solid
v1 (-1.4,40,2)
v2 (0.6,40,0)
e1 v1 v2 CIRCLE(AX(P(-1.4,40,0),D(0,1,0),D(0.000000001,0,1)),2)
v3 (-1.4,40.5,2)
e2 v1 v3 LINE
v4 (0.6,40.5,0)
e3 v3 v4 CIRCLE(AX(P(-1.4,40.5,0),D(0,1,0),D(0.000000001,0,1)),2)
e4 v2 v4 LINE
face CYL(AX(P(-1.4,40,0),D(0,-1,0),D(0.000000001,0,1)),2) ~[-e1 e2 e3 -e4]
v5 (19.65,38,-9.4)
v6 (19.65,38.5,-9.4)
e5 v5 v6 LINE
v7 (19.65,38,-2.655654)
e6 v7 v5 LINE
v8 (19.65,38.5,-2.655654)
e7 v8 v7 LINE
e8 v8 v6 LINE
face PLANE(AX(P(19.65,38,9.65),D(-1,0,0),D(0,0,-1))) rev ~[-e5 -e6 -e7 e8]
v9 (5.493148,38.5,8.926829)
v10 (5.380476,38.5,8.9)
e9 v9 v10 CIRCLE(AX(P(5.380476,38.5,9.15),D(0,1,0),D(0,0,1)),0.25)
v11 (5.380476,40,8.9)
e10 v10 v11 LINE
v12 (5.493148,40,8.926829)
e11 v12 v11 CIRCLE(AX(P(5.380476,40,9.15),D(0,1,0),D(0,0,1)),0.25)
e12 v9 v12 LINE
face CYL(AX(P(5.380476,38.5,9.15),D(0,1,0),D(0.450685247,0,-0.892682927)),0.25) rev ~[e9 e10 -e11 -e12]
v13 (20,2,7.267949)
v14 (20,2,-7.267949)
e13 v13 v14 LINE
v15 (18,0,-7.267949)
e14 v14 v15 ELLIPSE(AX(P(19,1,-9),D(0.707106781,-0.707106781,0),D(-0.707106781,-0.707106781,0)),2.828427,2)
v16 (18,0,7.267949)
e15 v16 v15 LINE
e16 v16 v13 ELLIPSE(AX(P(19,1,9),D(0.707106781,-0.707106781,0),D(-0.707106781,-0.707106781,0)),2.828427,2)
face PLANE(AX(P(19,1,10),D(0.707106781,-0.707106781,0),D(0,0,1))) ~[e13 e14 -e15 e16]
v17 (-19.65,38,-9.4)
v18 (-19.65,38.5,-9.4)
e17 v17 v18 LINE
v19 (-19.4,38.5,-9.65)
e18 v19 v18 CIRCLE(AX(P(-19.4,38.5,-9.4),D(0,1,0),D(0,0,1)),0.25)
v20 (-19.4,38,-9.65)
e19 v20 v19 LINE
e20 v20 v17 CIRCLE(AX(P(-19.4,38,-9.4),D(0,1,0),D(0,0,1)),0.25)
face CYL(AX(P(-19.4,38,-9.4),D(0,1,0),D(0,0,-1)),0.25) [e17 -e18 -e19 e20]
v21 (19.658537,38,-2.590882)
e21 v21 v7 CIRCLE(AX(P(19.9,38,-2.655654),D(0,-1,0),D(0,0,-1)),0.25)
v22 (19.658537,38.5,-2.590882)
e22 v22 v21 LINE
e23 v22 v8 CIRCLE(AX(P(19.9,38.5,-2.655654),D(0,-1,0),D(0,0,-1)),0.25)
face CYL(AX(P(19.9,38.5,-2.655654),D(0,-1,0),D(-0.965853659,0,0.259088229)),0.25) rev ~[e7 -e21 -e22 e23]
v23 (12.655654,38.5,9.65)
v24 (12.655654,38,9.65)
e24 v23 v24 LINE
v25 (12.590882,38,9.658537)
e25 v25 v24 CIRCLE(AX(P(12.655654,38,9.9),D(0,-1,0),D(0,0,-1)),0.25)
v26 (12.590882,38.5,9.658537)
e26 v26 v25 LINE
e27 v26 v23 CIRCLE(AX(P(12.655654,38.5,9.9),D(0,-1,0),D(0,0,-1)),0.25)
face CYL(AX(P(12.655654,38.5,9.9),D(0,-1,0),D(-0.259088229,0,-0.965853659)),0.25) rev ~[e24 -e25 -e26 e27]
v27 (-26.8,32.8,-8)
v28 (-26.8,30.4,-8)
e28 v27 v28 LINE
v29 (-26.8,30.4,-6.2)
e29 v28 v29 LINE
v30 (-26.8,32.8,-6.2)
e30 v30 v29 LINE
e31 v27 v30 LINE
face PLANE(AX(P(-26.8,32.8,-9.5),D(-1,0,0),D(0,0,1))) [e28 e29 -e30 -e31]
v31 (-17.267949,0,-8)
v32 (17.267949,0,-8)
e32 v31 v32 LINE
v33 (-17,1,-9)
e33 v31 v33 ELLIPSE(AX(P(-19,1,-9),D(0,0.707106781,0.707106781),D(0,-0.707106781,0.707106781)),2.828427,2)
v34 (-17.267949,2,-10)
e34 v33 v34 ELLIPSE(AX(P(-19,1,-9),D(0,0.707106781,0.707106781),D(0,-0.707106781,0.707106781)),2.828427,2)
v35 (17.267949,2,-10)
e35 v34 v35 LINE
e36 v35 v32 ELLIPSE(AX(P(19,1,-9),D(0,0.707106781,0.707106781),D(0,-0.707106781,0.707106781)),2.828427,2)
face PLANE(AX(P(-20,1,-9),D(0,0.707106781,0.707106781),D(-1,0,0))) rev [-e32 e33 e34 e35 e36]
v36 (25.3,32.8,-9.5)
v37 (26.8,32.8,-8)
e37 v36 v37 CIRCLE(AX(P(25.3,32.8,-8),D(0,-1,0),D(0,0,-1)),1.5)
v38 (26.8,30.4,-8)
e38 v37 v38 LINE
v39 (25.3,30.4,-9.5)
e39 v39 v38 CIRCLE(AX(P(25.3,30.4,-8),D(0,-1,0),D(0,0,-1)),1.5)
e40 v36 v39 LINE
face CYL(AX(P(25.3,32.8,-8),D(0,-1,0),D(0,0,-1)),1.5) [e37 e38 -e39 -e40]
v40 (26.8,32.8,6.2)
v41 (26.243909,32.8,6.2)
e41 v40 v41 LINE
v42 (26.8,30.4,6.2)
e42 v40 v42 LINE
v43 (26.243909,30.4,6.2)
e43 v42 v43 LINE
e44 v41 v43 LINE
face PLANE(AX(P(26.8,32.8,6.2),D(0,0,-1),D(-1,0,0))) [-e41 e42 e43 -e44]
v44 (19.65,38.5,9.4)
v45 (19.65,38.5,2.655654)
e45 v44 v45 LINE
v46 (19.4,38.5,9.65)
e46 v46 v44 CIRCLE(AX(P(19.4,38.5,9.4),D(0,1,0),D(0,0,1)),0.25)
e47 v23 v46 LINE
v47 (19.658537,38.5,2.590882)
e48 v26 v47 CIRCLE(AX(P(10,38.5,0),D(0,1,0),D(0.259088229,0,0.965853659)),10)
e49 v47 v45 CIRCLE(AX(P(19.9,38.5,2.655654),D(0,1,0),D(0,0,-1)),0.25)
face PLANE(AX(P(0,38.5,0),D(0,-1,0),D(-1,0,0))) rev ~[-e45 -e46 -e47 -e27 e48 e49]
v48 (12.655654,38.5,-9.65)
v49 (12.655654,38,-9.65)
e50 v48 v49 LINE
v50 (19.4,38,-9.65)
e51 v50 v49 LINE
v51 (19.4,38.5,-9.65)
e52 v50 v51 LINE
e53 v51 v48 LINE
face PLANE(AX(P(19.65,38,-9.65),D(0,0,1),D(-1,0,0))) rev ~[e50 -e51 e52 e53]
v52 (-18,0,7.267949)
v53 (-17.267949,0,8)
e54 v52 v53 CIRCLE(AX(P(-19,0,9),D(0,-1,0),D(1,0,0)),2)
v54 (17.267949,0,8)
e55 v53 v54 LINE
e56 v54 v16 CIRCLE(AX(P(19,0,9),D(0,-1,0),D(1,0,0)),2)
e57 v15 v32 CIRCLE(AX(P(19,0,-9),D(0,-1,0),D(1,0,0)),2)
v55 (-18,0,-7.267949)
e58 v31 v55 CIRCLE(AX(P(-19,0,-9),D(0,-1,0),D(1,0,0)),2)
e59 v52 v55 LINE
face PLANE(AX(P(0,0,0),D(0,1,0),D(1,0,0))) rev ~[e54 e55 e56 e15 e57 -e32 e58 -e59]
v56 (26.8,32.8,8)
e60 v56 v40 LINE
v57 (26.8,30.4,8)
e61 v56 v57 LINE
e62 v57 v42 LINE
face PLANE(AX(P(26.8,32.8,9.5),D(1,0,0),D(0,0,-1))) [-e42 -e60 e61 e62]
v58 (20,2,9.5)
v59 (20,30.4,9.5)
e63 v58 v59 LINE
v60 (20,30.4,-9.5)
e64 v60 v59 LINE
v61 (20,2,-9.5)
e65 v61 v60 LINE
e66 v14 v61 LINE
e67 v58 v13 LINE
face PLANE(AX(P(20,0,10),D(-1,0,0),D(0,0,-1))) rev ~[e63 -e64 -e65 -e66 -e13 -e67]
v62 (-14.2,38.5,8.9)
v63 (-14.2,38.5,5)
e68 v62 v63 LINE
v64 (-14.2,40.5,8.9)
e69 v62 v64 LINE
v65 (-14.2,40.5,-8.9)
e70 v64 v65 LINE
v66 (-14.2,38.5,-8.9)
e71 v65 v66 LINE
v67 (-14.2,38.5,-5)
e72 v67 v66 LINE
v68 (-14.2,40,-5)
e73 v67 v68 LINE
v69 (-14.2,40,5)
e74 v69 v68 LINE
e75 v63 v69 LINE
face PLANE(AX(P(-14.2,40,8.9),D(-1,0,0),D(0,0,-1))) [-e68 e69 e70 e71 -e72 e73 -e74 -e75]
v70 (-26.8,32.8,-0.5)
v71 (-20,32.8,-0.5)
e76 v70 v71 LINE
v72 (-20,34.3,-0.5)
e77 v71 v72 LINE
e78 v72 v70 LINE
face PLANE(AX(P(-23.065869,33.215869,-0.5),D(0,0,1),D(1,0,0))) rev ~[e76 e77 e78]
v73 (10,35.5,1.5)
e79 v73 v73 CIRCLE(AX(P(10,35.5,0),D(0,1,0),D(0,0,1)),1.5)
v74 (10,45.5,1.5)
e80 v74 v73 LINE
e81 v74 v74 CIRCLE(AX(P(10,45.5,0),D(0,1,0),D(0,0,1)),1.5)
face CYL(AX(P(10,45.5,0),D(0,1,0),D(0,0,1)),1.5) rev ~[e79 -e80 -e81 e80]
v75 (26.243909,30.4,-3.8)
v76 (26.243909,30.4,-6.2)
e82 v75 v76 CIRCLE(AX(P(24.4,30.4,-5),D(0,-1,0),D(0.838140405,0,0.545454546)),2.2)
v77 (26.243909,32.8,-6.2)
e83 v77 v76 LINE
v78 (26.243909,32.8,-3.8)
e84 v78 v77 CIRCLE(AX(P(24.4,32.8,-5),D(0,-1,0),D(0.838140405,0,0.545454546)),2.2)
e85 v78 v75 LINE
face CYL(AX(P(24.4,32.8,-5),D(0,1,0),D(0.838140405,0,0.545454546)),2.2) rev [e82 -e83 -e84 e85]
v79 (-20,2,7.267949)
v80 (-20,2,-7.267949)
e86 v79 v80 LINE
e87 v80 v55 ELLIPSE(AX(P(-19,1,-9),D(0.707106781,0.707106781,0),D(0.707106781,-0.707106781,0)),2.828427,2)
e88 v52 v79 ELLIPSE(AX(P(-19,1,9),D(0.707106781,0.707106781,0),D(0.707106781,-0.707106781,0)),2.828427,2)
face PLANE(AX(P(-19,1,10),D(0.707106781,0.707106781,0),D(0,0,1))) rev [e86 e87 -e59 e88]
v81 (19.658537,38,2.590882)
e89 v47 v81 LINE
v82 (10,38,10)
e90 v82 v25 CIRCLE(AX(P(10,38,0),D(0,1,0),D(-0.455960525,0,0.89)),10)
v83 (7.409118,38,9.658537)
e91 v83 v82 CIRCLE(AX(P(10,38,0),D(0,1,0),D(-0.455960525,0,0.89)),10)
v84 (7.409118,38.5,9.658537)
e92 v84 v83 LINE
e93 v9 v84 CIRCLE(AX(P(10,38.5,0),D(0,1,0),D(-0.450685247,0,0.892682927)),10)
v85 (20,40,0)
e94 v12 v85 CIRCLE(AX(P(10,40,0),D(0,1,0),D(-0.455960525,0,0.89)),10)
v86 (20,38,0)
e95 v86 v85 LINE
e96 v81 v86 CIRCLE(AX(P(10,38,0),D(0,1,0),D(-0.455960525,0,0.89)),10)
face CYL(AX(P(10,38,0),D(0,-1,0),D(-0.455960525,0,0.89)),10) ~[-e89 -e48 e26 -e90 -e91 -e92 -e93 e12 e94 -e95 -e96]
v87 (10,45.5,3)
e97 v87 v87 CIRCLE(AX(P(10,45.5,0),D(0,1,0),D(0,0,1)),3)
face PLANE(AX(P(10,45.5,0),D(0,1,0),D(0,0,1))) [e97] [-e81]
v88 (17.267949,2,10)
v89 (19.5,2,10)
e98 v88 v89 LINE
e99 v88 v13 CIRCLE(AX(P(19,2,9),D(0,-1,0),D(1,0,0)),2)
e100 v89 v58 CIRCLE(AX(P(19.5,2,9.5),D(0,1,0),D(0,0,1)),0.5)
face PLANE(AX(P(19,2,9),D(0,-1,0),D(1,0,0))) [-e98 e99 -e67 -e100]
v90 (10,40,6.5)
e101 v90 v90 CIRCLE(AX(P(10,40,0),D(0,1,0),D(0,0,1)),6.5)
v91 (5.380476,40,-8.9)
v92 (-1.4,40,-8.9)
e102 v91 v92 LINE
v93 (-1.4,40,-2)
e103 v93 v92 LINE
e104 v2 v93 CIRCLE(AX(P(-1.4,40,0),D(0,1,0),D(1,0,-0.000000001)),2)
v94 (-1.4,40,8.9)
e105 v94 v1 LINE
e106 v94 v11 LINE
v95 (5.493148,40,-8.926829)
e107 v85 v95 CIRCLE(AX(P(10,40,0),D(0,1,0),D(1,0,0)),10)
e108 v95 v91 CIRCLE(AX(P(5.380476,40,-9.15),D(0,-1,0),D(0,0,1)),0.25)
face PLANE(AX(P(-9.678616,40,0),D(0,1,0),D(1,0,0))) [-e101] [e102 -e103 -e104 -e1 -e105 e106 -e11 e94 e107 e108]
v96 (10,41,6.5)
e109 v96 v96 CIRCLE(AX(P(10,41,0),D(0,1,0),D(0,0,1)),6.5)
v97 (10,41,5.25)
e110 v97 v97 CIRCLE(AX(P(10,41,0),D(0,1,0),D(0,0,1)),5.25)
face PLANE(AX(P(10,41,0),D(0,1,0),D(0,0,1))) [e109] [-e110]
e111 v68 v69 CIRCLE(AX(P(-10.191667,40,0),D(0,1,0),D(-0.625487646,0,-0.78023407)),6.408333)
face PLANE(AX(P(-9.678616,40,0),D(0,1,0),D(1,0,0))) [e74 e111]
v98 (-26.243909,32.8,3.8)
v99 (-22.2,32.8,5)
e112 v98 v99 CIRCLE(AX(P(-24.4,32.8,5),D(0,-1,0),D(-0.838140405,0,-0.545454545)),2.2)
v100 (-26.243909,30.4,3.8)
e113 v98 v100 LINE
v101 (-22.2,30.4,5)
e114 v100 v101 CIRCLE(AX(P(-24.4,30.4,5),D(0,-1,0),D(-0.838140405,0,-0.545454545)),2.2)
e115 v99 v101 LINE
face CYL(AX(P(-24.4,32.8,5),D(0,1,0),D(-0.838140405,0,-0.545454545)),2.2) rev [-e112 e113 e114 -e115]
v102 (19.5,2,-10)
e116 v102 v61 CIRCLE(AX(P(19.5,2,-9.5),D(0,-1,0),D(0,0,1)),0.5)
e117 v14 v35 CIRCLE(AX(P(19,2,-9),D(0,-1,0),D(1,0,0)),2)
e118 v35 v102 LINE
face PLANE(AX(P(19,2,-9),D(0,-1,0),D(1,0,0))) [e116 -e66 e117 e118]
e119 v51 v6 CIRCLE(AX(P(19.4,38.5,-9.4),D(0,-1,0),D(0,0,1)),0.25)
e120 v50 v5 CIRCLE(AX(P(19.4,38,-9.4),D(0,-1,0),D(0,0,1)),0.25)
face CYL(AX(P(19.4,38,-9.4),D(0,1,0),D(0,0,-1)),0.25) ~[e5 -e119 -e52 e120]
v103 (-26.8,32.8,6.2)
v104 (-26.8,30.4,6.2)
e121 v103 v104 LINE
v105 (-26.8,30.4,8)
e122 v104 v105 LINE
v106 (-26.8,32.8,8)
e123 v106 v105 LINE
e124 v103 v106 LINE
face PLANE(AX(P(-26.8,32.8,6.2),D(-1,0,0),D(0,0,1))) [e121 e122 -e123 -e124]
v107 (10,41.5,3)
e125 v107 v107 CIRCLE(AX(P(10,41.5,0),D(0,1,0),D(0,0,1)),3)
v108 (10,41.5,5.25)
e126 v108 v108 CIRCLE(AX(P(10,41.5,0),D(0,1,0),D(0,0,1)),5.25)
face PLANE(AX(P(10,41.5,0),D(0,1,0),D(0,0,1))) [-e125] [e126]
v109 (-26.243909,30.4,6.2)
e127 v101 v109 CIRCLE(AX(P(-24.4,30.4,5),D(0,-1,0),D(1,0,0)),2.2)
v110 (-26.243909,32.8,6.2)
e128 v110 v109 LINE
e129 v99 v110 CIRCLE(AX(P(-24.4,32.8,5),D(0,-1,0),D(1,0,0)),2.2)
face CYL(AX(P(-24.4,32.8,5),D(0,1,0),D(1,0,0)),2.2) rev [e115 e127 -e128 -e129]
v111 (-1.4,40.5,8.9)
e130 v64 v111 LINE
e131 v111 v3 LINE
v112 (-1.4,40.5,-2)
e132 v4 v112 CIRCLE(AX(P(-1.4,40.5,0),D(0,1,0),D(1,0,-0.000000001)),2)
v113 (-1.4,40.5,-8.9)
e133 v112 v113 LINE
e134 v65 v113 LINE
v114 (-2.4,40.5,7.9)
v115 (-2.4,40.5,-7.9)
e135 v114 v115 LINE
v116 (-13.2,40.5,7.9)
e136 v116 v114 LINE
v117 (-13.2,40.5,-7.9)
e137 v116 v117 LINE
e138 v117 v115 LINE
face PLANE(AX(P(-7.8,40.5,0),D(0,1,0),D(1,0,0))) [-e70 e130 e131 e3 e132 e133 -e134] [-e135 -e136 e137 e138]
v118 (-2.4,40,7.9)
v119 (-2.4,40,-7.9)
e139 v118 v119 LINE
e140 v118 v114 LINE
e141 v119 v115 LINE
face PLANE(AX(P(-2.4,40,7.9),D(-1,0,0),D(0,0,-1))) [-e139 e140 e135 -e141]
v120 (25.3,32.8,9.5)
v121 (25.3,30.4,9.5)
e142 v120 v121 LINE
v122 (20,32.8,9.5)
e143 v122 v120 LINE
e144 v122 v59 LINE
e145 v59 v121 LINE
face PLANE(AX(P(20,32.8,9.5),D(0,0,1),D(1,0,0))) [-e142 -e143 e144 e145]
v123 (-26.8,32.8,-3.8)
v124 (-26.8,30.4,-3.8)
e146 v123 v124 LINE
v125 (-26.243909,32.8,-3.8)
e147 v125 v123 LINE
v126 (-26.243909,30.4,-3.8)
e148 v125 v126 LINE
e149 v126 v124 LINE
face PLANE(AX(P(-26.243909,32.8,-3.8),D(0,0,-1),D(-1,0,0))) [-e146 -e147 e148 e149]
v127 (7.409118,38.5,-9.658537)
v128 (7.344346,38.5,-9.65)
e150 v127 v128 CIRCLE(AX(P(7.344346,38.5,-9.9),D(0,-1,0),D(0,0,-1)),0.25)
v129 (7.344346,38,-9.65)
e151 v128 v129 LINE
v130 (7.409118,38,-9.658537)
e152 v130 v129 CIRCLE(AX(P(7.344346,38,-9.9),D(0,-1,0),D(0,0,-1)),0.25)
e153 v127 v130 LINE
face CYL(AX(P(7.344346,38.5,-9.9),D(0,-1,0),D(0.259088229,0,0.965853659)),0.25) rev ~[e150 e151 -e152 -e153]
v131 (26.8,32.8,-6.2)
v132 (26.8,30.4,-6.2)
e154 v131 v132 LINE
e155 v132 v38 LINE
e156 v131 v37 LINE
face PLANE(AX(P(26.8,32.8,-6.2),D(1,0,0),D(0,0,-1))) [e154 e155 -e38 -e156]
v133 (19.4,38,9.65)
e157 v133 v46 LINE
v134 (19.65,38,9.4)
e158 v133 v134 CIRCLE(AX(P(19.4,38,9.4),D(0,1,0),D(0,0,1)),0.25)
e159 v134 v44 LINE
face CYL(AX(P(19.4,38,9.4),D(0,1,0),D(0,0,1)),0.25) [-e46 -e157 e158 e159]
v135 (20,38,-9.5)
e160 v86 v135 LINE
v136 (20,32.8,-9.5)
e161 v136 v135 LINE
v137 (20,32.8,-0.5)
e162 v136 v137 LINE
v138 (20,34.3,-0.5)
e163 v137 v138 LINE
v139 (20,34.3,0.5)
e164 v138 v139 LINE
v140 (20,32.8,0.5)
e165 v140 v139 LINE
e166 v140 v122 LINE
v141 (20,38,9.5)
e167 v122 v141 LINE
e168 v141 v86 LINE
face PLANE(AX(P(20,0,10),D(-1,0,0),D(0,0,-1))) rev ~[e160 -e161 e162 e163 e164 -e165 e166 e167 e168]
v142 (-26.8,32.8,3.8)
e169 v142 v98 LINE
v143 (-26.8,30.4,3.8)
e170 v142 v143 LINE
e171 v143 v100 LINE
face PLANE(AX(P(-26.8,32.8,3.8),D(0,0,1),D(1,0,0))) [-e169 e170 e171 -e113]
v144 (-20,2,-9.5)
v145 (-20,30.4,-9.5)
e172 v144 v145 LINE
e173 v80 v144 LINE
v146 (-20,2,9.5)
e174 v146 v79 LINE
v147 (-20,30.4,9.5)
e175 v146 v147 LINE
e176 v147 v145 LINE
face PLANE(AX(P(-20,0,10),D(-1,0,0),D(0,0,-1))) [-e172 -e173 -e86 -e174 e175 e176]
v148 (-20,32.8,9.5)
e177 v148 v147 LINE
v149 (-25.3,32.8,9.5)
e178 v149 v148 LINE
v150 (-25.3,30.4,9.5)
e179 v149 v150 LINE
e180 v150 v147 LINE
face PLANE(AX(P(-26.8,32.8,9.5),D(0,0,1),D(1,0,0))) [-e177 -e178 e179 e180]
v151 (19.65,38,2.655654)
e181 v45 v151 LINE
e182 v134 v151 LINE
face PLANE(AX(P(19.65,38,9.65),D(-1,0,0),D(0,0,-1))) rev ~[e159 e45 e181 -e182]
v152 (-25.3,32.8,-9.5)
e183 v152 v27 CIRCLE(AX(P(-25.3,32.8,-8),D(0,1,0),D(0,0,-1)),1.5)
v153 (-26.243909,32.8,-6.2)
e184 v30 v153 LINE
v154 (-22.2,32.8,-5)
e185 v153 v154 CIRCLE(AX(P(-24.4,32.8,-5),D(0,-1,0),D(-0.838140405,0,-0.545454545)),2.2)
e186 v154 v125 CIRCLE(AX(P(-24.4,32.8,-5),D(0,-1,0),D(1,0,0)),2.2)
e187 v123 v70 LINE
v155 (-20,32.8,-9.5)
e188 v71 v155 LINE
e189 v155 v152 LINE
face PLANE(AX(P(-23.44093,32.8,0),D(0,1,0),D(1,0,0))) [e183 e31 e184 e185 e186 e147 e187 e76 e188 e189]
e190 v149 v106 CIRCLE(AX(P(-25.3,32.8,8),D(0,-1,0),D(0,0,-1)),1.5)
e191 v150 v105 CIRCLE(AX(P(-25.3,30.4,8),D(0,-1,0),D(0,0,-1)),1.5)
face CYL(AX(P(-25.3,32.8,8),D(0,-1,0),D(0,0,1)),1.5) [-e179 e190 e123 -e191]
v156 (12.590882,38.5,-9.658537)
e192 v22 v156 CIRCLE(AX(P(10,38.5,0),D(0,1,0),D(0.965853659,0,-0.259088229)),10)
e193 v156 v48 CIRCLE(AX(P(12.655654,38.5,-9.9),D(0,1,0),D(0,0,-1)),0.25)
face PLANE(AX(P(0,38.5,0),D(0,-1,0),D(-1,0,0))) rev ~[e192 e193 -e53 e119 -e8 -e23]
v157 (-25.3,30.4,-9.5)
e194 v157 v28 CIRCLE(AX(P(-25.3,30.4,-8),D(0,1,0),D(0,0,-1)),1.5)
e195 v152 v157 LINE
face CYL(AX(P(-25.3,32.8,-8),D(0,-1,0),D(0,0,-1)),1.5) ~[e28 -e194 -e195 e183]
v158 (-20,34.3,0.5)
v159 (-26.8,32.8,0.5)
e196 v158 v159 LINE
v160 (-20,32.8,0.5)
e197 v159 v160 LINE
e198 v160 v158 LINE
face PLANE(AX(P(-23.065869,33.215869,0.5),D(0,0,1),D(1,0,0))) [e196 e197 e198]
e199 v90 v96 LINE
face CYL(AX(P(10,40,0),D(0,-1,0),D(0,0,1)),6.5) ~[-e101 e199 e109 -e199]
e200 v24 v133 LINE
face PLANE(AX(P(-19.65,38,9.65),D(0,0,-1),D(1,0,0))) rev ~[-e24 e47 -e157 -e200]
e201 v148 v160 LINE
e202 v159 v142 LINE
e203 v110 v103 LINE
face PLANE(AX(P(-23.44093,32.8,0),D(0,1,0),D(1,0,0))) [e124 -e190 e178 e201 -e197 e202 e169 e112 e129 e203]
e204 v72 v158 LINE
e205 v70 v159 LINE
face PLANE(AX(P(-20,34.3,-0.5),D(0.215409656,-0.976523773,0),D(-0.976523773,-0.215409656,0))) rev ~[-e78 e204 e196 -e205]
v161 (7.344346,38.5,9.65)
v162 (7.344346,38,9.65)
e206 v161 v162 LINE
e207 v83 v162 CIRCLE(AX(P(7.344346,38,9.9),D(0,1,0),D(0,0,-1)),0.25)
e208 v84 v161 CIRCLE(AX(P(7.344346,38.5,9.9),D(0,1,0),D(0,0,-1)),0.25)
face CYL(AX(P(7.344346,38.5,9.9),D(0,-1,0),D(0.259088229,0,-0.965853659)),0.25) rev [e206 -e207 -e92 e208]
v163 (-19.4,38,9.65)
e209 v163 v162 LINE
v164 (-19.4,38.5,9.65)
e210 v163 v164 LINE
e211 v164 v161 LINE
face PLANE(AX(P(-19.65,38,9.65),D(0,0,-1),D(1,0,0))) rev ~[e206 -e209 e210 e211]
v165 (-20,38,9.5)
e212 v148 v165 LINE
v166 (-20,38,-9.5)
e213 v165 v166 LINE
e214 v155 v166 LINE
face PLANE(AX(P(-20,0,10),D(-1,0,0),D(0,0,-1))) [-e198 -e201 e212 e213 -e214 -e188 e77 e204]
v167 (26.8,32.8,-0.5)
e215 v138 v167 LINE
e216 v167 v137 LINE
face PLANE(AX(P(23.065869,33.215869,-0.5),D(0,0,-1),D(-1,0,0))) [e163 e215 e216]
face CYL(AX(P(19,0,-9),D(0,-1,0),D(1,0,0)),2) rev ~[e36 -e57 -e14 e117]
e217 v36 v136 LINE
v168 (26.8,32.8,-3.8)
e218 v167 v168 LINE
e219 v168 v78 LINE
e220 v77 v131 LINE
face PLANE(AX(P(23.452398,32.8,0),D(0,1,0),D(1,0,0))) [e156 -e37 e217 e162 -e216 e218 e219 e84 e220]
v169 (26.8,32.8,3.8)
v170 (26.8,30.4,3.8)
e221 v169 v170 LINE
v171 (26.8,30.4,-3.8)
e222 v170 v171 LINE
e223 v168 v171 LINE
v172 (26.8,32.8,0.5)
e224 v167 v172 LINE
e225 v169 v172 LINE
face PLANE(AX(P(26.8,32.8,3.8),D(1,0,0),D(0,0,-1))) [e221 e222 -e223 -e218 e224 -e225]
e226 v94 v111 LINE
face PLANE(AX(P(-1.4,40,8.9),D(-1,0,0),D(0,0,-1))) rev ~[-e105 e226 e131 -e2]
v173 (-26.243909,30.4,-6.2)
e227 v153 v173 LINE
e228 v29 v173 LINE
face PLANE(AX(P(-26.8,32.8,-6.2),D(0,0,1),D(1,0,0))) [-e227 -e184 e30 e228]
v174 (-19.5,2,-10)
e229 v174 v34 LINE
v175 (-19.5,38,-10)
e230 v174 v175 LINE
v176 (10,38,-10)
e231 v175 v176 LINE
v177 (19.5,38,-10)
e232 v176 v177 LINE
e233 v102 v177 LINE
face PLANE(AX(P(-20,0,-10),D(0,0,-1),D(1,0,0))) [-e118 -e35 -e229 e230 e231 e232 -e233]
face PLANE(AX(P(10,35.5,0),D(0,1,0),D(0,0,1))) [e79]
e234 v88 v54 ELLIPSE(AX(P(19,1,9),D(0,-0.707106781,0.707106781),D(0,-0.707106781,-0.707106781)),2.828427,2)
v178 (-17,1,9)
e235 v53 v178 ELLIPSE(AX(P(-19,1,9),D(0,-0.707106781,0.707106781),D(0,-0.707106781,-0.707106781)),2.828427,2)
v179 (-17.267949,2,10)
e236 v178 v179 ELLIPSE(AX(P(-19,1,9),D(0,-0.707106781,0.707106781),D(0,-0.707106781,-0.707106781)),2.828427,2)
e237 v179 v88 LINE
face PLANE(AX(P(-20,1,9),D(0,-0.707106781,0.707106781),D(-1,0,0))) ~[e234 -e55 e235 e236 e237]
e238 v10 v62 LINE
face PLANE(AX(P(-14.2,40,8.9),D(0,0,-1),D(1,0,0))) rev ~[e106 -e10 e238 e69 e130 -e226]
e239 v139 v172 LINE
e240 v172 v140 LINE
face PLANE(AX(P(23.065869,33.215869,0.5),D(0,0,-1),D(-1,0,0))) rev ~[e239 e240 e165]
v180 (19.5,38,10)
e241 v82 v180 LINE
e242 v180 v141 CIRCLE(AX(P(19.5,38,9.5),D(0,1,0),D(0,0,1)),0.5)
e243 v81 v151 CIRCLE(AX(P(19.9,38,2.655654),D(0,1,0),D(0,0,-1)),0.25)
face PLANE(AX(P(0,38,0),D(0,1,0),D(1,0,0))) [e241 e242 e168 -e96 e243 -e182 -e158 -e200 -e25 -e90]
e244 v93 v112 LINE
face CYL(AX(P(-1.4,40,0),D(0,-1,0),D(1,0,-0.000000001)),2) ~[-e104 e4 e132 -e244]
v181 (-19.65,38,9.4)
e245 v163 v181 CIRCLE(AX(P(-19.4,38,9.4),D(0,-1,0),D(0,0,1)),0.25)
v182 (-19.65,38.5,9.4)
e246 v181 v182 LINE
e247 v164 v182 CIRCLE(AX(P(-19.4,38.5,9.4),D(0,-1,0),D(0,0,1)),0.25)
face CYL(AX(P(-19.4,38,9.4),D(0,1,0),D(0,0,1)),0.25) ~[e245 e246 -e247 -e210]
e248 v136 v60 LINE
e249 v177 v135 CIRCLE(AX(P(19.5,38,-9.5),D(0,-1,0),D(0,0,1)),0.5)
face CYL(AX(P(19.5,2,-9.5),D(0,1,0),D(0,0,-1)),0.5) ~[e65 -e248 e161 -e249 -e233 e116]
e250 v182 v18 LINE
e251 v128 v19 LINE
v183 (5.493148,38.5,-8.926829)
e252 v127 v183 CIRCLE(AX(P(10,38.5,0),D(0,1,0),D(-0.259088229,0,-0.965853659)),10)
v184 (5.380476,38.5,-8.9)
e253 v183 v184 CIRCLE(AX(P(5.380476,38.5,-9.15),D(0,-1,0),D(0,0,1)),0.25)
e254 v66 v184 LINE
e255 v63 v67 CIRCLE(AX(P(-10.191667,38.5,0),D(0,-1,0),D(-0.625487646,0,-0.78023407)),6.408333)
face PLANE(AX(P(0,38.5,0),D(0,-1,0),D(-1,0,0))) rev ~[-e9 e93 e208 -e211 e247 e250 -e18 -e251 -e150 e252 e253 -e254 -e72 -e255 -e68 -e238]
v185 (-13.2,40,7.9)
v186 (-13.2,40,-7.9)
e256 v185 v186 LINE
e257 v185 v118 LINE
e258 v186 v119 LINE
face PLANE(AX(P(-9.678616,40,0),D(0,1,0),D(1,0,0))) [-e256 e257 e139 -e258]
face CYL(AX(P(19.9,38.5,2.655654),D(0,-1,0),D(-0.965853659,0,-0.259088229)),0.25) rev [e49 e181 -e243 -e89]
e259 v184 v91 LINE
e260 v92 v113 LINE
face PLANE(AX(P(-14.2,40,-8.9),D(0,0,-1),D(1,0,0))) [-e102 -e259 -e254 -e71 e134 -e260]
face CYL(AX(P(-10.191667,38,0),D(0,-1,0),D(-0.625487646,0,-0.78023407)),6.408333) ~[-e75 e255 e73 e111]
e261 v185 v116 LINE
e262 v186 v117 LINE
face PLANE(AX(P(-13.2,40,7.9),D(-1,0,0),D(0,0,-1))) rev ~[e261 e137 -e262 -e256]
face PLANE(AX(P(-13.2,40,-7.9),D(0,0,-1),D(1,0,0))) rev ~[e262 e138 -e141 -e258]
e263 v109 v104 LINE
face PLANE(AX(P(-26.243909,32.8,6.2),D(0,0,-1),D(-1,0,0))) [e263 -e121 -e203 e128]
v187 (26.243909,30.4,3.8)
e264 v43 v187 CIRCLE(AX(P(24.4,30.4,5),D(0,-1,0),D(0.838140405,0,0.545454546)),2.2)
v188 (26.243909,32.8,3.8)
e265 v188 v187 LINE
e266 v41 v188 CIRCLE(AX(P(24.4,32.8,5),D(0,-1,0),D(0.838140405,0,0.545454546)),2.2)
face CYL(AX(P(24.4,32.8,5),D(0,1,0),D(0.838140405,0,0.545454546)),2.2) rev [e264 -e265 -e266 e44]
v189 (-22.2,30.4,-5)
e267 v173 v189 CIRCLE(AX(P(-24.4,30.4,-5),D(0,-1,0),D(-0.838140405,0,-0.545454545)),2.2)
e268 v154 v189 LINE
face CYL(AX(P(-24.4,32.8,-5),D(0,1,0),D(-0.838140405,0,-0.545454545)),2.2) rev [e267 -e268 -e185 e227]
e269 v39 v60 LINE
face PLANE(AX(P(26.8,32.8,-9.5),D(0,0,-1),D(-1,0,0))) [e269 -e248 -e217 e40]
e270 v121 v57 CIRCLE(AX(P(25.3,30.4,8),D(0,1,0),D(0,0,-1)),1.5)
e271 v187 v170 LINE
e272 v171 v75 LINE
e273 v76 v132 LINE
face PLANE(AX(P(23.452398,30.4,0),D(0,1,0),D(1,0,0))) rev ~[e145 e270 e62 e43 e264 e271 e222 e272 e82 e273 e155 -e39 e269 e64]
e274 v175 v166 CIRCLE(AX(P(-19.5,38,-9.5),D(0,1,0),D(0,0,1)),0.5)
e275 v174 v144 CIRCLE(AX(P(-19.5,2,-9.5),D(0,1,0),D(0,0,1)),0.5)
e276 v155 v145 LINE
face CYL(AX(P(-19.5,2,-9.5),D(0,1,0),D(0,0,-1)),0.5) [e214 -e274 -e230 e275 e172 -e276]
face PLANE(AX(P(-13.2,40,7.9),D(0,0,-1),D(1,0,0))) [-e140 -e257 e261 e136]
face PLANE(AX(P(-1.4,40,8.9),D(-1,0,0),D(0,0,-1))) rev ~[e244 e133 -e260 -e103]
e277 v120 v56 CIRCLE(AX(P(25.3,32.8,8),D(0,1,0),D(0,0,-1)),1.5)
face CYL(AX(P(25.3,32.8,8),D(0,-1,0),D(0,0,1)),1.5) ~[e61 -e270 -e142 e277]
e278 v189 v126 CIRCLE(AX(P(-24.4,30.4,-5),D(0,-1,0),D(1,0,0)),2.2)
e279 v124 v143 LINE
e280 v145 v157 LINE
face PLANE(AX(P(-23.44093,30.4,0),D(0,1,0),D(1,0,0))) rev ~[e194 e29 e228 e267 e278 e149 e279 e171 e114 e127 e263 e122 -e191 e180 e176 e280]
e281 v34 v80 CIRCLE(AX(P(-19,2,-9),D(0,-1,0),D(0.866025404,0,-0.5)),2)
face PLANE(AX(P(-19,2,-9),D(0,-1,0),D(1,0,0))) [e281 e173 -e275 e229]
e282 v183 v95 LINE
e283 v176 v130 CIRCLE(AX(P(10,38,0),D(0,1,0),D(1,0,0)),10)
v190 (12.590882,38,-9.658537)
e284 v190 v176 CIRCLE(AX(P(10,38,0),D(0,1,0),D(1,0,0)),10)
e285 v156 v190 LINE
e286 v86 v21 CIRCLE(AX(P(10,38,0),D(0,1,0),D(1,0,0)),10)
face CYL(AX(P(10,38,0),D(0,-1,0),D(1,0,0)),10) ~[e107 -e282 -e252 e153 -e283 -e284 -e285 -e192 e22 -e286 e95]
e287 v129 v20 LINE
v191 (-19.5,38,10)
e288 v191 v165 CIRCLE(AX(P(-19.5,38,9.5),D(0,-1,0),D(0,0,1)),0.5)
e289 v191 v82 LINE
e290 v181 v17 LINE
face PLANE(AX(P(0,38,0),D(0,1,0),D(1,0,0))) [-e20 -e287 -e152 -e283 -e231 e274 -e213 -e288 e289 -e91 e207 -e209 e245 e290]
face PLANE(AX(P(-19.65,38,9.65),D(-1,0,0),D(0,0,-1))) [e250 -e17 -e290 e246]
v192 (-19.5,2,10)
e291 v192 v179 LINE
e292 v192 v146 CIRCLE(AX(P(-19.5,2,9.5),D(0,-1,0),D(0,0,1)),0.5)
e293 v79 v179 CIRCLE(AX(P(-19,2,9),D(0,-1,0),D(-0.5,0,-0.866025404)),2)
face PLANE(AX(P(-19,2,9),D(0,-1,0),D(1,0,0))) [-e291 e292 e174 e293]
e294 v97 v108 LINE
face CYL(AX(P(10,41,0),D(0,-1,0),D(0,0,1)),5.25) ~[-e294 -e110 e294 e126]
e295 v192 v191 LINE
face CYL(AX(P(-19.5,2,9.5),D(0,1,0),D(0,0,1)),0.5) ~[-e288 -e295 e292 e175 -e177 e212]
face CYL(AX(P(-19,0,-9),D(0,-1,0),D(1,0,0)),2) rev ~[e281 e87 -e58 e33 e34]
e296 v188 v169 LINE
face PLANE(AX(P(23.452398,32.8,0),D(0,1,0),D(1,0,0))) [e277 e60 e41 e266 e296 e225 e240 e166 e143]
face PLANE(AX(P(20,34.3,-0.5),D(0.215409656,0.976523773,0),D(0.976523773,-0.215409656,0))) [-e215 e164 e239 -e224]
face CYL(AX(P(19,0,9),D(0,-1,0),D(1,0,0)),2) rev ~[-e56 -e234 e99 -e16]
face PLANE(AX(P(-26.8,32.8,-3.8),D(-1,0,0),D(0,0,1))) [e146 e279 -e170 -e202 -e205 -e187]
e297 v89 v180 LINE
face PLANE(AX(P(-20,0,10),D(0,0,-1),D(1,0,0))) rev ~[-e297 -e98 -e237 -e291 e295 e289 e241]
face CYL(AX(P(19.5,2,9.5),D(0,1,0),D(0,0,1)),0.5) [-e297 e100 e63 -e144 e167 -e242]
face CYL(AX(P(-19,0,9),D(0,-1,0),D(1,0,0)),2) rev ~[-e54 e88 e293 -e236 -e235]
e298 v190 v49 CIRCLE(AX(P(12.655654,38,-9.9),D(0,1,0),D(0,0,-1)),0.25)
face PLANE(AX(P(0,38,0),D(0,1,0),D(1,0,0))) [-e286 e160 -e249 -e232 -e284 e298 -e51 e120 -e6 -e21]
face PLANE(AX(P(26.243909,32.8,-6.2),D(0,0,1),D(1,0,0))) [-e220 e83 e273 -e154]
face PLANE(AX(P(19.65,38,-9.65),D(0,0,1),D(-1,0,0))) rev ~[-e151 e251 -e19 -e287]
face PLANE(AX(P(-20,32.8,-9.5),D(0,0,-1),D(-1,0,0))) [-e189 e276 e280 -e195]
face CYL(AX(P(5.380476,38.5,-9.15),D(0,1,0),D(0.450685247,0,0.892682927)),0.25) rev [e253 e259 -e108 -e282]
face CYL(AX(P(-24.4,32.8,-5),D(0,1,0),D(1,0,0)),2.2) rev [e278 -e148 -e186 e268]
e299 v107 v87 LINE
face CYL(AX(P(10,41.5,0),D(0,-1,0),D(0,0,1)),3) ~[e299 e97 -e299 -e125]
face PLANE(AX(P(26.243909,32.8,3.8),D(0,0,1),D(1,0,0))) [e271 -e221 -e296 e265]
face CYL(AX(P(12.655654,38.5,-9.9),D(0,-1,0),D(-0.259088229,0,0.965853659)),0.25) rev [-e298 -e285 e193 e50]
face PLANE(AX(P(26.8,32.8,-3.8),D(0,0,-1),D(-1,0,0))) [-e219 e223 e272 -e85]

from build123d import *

# Parameters (mm, degrees)
SKETCH1_W                 = 40
SKETCH1_H                 = 20
BOSS_EXTRUDE1_DEPTH       = 38
BOSS_EXTRUDE2_DEPTH       = 2
BOSS_EXTRUDE3_DEPTH       = 0.5
SKETCH6_W                 = 12.8
SKETCH6_H                 = 17.8
SKETCH6_W_2               = 10.8
SKETCH6_H_2               = 15.8
BOSS_EXTRUDE4_DEPTH       = 0.5
BOSS_EXTRUDE5_DEPTH       = 0.5
SKETCH8_R                 = 6.5
BOSS_EXTRUDE6_DEPTH       = 1
SKETCH9_R                 = 5.25
BOSS_EXTRUDE7_DEPTH       = 0.5
SKETCH10_R                = 3
BOSS_EXTRUDE8_DEPTH       = 4
SKETCH11_R                = 1.5
CUT_EXTRUDE1_DEPTH        = 10
CHAMFER1_SIZE             = 2
SKETCH12_R                = 2
CUT_EXTRUDE2_DEPTH        = 2
FILLET1_R                 = 0.5
FILLET2_R                 = 0.25
BOSS_EXTRUDE9_DEPTH       = 2.4
BOSS_EXTRUDE10_DEPTH      = 0.5
BOSS_EXTRUDE10_DEPTH_BACK = 0.5
FILLET3_R                 = 1.5


with BuildPart() as part:
    # Sketch1 → Boss-Extrude1 (new body)
    with BuildSketch(Plane(origin=(0, 0, 0), x_dir=(1, 0, 0), z_dir=(0, 1, 0))):
        Rectangle(SKETCH1_W, SKETCH1_H)
    extrude(amount=BOSS_EXTRUDE1_DEPTH)

    # Sketch2 → Boss-Extrude2 (add)
    with BuildSketch(Plane(origin=(0, 38, 0), x_dir=(1, 0, 0), z_dir=(0, 1, 0))):
        with BuildLine():
            ThreePointArc((-3.783333333, 0), (-7.418581742, 5.77726026), (-14.2, 5))
            Line((-14.2, 5), (-14.2, -5))
            ThreePointArc((-14.2, -5), (-7.418581742, -5.77726026), (-3.783333333, 0))
        make_face()
        with BuildLine():
            Line((-14.2, -5), (-14.2, 5))
            ThreePointArc((-14.2, 5), (-16.6, 0), (-14.2, -5))
        make_face()
        with BuildLine():
            Line((5.440394754, 8.9), (-14.2, 8.9))
            Line((-14.2, 8.9), (-14.2, 5))
            ThreePointArc((-14.2, 5), (-7.418581742, 5.77726026), (-3.783333333, 0))
            ThreePointArc((-3.783333333, 0), (-7.418581742, -5.77726026), (-14.2, -5))
            Line((-14.2, -5), (-14.2, -8.9))
            Line((-14.2, -8.9), (5.440394754, -8.9))
            ThreePointArc((5.440394754, -8.9), (0, 0), (5.440394754, 8.9))
        make_face()
        with BuildLine():
            ThreePointArc((20, 0), (15.215551147, 8.532175938), (5.440394754, 8.9))
            Line((5.440394754, 8.9), (5.440394754, -8.9))
            ThreePointArc((5.440394754, -8.9), (15.215551147, -8.532175938), (20, 0))
        make_face()
        with BuildLine():
            Line((5.440394754, -8.9), (5.440394754, 8.9))
            ThreePointArc((5.440394754, 8.9), (0, 0), (5.440394754, -8.9))
        make_face()
    extrude(amount=BOSS_EXTRUDE2_DEPTH)

    # Sketch3 → Boss-Extrude3 (add)
    with BuildSketch(Plane(origin=(0, 38, 0), x_dir=(1, 0, 0), z_dir=(0, 1, 0))):
        Polygon((-19.65, 9.65), (10, 9.65), (19.65, 9.65), (19.65, 0), (19.65, -9.65), (10, -9.65), (-19.65, -9.65), align=None)
    extrude(amount=BOSS_EXTRUDE3_DEPTH)

    # Sketch6 → Boss-Extrude4 (add)
    with BuildSketch(Plane(origin=(0, 40, 0), x_dir=(1, 0, 0), z_dir=(0, 1, 0))):
        with Locations((-7.8, 0)):
            Rectangle(SKETCH6_W, SKETCH6_H)
        with Locations((-7.8, 0)):
            Rectangle(SKETCH6_W_2, SKETCH6_H_2, mode=Mode.SUBTRACT)
    extrude(amount=BOSS_EXTRUDE4_DEPTH)

    # Sketch7 → Boss-Extrude5 (add)
    with BuildSketch(Plane(origin=(0, 40, 0), x_dir=(1, 0, 0), z_dir=(0, 1, 0))):
        with BuildLine():
            ThreePointArc((0.6, 0), (0.014213562, 1.414213562), (-1.4, 2))
            Line((-1.4, 2), (-1.4, -2))
            ThreePointArc((-1.4, -2), (0.014213562, -1.414213562), (0.6, 0))
        make_face()
    extrude(amount=BOSS_EXTRUDE5_DEPTH)

    # Sketch8 → Boss-Extrude6 (add)
    with BuildSketch(Plane(origin=(0, 40, 0), x_dir=(1, 0, 0), z_dir=(0, 1, 0))):
        with Locations(Location((10, 0, 0), (0, 0, 270))):
            Circle(SKETCH8_R)
    extrude(amount=BOSS_EXTRUDE6_DEPTH)

    # Sketch9 → Boss-Extrude7 (add)
    with BuildSketch(Plane(origin=(0, 41, 0), x_dir=(1, 0, 0), z_dir=(0, 1, 0))):
        with Locations(Location((10, 0, 0), (0, 0, 270))):
            Circle(SKETCH9_R)
    extrude(amount=BOSS_EXTRUDE7_DEPTH)

    # Sketch10 → Boss-Extrude8 (add)
    with BuildSketch(Plane(origin=(0, 41.5, 0), x_dir=(1, 0, 0), z_dir=(0, 1, 0))):
        with Locations(Location((10, 0, 0), (0, 0, 270))):
            Circle(SKETCH10_R)
    extrude(amount=BOSS_EXTRUDE8_DEPTH)

    # Sketch11 → Cut-Extrude1 (cut)
    with BuildSketch(Plane(origin=(0, 45.5, 0), x_dir=(1, 0, 0), z_dir=(0, 1, 0))):
        with Locations(Location((10, 0, 0), (0, 0, 270))):
            Circle(SKETCH11_R)
    extrude(amount=-CUT_EXTRUDE1_DEPTH, mode=Mode.SUBTRACT)

    # Chamfer1
    chamfer1_edges = [part.edges().sort_by_distance(p)[0] for p in [
        (-20, 0, 0),
        (0, 0, 10),
        (20, 0, 0),
        (0, 0, -10),
    ]]
    chamfer(chamfer1_edges, length=CHAMFER1_SIZE)

    # Sketch12 → Cut-Extrude2 (cut)
    with BuildSketch(Plane.XZ):
        with Locations((19, 9)):
            Circle(SKETCH12_R)
        with Locations((-19, 9)):
            Circle(SKETCH12_R)
        with Locations((19, -9)):
            Circle(SKETCH12_R)
        with Locations((-19, -9)):
            Circle(SKETCH12_R)
    extrude(amount=-CUT_EXTRUDE2_DEPTH, mode=Mode.SUBTRACT)

    # Fillet1
    fillet1_edges = [part.edges().sort_by_distance(p)[0] for p in [
        (-20, 20, -10),
        (-20, 20, 10),
        (20, 20, 10),
        (20, 20, -10),
    ]]
    fillet(fillet1_edges, radius=FILLET1_R)

    # Fillet2
    fillet2_edges = [part.edges().sort_by_distance(p)[0] for p in [
        (5.440394754, 39.25, 8.9),
        (5.440394754, 39.25, -8.9),
        (7.377501192, 38.25, 9.65),
        (7.377501192, 38.25, -9.65),
        (12.622498808, 38.25, -9.65),
        (19.65, 38.25, -2.622498808),
        (19.65, 38.25, 2.622498808),
        (12.622498808, 38.25, 9.65),
        (-19.65, 38.25, 9.65),
        (19.65, 38.25, 9.65),
        (19.65, 38.25, -9.65),
        (-19.65, 38.25, -9.65),
    ]]
    fillet(fillet2_edges, radius=FILLET2_R)

    # Sketch13 → Boss-Extrude9 (add)
    with BuildSketch(Plane(origin=(0, 32.8, 0), x_dir=(1, 0, 0), z_dir=(0, 1, 0))):
        with BuildLine():
            Line((-20, -9.5), (-20, 9.5))
            Line((-20, 9.5), (-26.8, 9.5))
            Line((-26.8, 9.5), (-26.8, 6.2))
            Line((-26.8, 6.2), (-26.243908891, 6.2))
            ThreePointArc((-26.243908891, 6.2), (-23.774140416, 7.109099282), (-22.2, 5))
            ThreePointArc((-22.2, 5), (-23.774140416, 2.890900718), (-26.243908891, 3.8))
            Line((-26.243908891, 3.8), (-26.8, 3.8))
            Line((-26.8, 3.8), (-26.8, -3.8))
            Line((-26.8, -3.8), (-26.243908891, -3.8))
            ThreePointArc((-26.243908891, -3.8), (-23.774140416, -2.890900718), (-22.2, -5))
            ThreePointArc((-22.2, -5), (-23.774140416, -7.109099282), (-26.243908891, -6.2))
            Line((-26.243908891, -6.2), (-26.8, -6.2))
            Line((-26.8, -6.2), (-26.8, -9.5))
            Line((-26.8, -9.5), (-20, -9.5))
        make_face()
        with BuildLine():
            Line((26.243908891, 6.2), (26.8, 6.2))
            Line((26.8, 6.2), (26.8, 9.5))
            Line((26.8, 9.5), (20, 9.5))
            Line((20, 9.5), (20, -9.5))
            Line((20, -9.5), (26.8, -9.5))
            Line((26.8, -9.5), (26.8, -6.2))
            Line((26.8, -6.2), (26.243908891, -6.2))
            ThreePointArc((26.243908891, -6.2), (22.2, -5), (26.243908891, -3.8))
            Line((26.243908891, -3.8), (26.8, -3.8))
            Line((26.8, -3.8), (26.8, 3.8))
            Line((26.8, 3.8), (26.243908891, 3.8))
            ThreePointArc((26.243908891, 3.8), (22.2, 5), (26.243908891, 6.2))
        make_face()
    extrude(amount=-BOSS_EXTRUDE9_DEPTH)

    # Sketch14 → Boss-Extrude10 (add, two sides: drawn at the far end of the back side and taken through both)
    with BuildSketch(Plane.XY.offset(-BOSS_EXTRUDE10_DEPTH_BACK)):
        Polygon((-26.8, 32.8), (-20, 32.8), (-20, 34.3), align=None)
        Polygon((20, 32.8), (20, 34.3), (26.8, 32.8), align=None)
    extrude(amount=BOSS_EXTRUDE10_DEPTH + BOSS_EXTRUDE10_DEPTH_BACK)

    # Fillet3
    fillet3_edges = [part.edges().sort_by_distance(p)[0] for p in [
        (-26.8, 31.6, -9.5),
        (-26.8, 31.6, 9.5),
        (26.8, 31.6, 9.5),
        (26.8, 31.6, -9.5),
    ]]
    fillet(fillet3_edges, radius=FILLET3_R)


solid = part.part
